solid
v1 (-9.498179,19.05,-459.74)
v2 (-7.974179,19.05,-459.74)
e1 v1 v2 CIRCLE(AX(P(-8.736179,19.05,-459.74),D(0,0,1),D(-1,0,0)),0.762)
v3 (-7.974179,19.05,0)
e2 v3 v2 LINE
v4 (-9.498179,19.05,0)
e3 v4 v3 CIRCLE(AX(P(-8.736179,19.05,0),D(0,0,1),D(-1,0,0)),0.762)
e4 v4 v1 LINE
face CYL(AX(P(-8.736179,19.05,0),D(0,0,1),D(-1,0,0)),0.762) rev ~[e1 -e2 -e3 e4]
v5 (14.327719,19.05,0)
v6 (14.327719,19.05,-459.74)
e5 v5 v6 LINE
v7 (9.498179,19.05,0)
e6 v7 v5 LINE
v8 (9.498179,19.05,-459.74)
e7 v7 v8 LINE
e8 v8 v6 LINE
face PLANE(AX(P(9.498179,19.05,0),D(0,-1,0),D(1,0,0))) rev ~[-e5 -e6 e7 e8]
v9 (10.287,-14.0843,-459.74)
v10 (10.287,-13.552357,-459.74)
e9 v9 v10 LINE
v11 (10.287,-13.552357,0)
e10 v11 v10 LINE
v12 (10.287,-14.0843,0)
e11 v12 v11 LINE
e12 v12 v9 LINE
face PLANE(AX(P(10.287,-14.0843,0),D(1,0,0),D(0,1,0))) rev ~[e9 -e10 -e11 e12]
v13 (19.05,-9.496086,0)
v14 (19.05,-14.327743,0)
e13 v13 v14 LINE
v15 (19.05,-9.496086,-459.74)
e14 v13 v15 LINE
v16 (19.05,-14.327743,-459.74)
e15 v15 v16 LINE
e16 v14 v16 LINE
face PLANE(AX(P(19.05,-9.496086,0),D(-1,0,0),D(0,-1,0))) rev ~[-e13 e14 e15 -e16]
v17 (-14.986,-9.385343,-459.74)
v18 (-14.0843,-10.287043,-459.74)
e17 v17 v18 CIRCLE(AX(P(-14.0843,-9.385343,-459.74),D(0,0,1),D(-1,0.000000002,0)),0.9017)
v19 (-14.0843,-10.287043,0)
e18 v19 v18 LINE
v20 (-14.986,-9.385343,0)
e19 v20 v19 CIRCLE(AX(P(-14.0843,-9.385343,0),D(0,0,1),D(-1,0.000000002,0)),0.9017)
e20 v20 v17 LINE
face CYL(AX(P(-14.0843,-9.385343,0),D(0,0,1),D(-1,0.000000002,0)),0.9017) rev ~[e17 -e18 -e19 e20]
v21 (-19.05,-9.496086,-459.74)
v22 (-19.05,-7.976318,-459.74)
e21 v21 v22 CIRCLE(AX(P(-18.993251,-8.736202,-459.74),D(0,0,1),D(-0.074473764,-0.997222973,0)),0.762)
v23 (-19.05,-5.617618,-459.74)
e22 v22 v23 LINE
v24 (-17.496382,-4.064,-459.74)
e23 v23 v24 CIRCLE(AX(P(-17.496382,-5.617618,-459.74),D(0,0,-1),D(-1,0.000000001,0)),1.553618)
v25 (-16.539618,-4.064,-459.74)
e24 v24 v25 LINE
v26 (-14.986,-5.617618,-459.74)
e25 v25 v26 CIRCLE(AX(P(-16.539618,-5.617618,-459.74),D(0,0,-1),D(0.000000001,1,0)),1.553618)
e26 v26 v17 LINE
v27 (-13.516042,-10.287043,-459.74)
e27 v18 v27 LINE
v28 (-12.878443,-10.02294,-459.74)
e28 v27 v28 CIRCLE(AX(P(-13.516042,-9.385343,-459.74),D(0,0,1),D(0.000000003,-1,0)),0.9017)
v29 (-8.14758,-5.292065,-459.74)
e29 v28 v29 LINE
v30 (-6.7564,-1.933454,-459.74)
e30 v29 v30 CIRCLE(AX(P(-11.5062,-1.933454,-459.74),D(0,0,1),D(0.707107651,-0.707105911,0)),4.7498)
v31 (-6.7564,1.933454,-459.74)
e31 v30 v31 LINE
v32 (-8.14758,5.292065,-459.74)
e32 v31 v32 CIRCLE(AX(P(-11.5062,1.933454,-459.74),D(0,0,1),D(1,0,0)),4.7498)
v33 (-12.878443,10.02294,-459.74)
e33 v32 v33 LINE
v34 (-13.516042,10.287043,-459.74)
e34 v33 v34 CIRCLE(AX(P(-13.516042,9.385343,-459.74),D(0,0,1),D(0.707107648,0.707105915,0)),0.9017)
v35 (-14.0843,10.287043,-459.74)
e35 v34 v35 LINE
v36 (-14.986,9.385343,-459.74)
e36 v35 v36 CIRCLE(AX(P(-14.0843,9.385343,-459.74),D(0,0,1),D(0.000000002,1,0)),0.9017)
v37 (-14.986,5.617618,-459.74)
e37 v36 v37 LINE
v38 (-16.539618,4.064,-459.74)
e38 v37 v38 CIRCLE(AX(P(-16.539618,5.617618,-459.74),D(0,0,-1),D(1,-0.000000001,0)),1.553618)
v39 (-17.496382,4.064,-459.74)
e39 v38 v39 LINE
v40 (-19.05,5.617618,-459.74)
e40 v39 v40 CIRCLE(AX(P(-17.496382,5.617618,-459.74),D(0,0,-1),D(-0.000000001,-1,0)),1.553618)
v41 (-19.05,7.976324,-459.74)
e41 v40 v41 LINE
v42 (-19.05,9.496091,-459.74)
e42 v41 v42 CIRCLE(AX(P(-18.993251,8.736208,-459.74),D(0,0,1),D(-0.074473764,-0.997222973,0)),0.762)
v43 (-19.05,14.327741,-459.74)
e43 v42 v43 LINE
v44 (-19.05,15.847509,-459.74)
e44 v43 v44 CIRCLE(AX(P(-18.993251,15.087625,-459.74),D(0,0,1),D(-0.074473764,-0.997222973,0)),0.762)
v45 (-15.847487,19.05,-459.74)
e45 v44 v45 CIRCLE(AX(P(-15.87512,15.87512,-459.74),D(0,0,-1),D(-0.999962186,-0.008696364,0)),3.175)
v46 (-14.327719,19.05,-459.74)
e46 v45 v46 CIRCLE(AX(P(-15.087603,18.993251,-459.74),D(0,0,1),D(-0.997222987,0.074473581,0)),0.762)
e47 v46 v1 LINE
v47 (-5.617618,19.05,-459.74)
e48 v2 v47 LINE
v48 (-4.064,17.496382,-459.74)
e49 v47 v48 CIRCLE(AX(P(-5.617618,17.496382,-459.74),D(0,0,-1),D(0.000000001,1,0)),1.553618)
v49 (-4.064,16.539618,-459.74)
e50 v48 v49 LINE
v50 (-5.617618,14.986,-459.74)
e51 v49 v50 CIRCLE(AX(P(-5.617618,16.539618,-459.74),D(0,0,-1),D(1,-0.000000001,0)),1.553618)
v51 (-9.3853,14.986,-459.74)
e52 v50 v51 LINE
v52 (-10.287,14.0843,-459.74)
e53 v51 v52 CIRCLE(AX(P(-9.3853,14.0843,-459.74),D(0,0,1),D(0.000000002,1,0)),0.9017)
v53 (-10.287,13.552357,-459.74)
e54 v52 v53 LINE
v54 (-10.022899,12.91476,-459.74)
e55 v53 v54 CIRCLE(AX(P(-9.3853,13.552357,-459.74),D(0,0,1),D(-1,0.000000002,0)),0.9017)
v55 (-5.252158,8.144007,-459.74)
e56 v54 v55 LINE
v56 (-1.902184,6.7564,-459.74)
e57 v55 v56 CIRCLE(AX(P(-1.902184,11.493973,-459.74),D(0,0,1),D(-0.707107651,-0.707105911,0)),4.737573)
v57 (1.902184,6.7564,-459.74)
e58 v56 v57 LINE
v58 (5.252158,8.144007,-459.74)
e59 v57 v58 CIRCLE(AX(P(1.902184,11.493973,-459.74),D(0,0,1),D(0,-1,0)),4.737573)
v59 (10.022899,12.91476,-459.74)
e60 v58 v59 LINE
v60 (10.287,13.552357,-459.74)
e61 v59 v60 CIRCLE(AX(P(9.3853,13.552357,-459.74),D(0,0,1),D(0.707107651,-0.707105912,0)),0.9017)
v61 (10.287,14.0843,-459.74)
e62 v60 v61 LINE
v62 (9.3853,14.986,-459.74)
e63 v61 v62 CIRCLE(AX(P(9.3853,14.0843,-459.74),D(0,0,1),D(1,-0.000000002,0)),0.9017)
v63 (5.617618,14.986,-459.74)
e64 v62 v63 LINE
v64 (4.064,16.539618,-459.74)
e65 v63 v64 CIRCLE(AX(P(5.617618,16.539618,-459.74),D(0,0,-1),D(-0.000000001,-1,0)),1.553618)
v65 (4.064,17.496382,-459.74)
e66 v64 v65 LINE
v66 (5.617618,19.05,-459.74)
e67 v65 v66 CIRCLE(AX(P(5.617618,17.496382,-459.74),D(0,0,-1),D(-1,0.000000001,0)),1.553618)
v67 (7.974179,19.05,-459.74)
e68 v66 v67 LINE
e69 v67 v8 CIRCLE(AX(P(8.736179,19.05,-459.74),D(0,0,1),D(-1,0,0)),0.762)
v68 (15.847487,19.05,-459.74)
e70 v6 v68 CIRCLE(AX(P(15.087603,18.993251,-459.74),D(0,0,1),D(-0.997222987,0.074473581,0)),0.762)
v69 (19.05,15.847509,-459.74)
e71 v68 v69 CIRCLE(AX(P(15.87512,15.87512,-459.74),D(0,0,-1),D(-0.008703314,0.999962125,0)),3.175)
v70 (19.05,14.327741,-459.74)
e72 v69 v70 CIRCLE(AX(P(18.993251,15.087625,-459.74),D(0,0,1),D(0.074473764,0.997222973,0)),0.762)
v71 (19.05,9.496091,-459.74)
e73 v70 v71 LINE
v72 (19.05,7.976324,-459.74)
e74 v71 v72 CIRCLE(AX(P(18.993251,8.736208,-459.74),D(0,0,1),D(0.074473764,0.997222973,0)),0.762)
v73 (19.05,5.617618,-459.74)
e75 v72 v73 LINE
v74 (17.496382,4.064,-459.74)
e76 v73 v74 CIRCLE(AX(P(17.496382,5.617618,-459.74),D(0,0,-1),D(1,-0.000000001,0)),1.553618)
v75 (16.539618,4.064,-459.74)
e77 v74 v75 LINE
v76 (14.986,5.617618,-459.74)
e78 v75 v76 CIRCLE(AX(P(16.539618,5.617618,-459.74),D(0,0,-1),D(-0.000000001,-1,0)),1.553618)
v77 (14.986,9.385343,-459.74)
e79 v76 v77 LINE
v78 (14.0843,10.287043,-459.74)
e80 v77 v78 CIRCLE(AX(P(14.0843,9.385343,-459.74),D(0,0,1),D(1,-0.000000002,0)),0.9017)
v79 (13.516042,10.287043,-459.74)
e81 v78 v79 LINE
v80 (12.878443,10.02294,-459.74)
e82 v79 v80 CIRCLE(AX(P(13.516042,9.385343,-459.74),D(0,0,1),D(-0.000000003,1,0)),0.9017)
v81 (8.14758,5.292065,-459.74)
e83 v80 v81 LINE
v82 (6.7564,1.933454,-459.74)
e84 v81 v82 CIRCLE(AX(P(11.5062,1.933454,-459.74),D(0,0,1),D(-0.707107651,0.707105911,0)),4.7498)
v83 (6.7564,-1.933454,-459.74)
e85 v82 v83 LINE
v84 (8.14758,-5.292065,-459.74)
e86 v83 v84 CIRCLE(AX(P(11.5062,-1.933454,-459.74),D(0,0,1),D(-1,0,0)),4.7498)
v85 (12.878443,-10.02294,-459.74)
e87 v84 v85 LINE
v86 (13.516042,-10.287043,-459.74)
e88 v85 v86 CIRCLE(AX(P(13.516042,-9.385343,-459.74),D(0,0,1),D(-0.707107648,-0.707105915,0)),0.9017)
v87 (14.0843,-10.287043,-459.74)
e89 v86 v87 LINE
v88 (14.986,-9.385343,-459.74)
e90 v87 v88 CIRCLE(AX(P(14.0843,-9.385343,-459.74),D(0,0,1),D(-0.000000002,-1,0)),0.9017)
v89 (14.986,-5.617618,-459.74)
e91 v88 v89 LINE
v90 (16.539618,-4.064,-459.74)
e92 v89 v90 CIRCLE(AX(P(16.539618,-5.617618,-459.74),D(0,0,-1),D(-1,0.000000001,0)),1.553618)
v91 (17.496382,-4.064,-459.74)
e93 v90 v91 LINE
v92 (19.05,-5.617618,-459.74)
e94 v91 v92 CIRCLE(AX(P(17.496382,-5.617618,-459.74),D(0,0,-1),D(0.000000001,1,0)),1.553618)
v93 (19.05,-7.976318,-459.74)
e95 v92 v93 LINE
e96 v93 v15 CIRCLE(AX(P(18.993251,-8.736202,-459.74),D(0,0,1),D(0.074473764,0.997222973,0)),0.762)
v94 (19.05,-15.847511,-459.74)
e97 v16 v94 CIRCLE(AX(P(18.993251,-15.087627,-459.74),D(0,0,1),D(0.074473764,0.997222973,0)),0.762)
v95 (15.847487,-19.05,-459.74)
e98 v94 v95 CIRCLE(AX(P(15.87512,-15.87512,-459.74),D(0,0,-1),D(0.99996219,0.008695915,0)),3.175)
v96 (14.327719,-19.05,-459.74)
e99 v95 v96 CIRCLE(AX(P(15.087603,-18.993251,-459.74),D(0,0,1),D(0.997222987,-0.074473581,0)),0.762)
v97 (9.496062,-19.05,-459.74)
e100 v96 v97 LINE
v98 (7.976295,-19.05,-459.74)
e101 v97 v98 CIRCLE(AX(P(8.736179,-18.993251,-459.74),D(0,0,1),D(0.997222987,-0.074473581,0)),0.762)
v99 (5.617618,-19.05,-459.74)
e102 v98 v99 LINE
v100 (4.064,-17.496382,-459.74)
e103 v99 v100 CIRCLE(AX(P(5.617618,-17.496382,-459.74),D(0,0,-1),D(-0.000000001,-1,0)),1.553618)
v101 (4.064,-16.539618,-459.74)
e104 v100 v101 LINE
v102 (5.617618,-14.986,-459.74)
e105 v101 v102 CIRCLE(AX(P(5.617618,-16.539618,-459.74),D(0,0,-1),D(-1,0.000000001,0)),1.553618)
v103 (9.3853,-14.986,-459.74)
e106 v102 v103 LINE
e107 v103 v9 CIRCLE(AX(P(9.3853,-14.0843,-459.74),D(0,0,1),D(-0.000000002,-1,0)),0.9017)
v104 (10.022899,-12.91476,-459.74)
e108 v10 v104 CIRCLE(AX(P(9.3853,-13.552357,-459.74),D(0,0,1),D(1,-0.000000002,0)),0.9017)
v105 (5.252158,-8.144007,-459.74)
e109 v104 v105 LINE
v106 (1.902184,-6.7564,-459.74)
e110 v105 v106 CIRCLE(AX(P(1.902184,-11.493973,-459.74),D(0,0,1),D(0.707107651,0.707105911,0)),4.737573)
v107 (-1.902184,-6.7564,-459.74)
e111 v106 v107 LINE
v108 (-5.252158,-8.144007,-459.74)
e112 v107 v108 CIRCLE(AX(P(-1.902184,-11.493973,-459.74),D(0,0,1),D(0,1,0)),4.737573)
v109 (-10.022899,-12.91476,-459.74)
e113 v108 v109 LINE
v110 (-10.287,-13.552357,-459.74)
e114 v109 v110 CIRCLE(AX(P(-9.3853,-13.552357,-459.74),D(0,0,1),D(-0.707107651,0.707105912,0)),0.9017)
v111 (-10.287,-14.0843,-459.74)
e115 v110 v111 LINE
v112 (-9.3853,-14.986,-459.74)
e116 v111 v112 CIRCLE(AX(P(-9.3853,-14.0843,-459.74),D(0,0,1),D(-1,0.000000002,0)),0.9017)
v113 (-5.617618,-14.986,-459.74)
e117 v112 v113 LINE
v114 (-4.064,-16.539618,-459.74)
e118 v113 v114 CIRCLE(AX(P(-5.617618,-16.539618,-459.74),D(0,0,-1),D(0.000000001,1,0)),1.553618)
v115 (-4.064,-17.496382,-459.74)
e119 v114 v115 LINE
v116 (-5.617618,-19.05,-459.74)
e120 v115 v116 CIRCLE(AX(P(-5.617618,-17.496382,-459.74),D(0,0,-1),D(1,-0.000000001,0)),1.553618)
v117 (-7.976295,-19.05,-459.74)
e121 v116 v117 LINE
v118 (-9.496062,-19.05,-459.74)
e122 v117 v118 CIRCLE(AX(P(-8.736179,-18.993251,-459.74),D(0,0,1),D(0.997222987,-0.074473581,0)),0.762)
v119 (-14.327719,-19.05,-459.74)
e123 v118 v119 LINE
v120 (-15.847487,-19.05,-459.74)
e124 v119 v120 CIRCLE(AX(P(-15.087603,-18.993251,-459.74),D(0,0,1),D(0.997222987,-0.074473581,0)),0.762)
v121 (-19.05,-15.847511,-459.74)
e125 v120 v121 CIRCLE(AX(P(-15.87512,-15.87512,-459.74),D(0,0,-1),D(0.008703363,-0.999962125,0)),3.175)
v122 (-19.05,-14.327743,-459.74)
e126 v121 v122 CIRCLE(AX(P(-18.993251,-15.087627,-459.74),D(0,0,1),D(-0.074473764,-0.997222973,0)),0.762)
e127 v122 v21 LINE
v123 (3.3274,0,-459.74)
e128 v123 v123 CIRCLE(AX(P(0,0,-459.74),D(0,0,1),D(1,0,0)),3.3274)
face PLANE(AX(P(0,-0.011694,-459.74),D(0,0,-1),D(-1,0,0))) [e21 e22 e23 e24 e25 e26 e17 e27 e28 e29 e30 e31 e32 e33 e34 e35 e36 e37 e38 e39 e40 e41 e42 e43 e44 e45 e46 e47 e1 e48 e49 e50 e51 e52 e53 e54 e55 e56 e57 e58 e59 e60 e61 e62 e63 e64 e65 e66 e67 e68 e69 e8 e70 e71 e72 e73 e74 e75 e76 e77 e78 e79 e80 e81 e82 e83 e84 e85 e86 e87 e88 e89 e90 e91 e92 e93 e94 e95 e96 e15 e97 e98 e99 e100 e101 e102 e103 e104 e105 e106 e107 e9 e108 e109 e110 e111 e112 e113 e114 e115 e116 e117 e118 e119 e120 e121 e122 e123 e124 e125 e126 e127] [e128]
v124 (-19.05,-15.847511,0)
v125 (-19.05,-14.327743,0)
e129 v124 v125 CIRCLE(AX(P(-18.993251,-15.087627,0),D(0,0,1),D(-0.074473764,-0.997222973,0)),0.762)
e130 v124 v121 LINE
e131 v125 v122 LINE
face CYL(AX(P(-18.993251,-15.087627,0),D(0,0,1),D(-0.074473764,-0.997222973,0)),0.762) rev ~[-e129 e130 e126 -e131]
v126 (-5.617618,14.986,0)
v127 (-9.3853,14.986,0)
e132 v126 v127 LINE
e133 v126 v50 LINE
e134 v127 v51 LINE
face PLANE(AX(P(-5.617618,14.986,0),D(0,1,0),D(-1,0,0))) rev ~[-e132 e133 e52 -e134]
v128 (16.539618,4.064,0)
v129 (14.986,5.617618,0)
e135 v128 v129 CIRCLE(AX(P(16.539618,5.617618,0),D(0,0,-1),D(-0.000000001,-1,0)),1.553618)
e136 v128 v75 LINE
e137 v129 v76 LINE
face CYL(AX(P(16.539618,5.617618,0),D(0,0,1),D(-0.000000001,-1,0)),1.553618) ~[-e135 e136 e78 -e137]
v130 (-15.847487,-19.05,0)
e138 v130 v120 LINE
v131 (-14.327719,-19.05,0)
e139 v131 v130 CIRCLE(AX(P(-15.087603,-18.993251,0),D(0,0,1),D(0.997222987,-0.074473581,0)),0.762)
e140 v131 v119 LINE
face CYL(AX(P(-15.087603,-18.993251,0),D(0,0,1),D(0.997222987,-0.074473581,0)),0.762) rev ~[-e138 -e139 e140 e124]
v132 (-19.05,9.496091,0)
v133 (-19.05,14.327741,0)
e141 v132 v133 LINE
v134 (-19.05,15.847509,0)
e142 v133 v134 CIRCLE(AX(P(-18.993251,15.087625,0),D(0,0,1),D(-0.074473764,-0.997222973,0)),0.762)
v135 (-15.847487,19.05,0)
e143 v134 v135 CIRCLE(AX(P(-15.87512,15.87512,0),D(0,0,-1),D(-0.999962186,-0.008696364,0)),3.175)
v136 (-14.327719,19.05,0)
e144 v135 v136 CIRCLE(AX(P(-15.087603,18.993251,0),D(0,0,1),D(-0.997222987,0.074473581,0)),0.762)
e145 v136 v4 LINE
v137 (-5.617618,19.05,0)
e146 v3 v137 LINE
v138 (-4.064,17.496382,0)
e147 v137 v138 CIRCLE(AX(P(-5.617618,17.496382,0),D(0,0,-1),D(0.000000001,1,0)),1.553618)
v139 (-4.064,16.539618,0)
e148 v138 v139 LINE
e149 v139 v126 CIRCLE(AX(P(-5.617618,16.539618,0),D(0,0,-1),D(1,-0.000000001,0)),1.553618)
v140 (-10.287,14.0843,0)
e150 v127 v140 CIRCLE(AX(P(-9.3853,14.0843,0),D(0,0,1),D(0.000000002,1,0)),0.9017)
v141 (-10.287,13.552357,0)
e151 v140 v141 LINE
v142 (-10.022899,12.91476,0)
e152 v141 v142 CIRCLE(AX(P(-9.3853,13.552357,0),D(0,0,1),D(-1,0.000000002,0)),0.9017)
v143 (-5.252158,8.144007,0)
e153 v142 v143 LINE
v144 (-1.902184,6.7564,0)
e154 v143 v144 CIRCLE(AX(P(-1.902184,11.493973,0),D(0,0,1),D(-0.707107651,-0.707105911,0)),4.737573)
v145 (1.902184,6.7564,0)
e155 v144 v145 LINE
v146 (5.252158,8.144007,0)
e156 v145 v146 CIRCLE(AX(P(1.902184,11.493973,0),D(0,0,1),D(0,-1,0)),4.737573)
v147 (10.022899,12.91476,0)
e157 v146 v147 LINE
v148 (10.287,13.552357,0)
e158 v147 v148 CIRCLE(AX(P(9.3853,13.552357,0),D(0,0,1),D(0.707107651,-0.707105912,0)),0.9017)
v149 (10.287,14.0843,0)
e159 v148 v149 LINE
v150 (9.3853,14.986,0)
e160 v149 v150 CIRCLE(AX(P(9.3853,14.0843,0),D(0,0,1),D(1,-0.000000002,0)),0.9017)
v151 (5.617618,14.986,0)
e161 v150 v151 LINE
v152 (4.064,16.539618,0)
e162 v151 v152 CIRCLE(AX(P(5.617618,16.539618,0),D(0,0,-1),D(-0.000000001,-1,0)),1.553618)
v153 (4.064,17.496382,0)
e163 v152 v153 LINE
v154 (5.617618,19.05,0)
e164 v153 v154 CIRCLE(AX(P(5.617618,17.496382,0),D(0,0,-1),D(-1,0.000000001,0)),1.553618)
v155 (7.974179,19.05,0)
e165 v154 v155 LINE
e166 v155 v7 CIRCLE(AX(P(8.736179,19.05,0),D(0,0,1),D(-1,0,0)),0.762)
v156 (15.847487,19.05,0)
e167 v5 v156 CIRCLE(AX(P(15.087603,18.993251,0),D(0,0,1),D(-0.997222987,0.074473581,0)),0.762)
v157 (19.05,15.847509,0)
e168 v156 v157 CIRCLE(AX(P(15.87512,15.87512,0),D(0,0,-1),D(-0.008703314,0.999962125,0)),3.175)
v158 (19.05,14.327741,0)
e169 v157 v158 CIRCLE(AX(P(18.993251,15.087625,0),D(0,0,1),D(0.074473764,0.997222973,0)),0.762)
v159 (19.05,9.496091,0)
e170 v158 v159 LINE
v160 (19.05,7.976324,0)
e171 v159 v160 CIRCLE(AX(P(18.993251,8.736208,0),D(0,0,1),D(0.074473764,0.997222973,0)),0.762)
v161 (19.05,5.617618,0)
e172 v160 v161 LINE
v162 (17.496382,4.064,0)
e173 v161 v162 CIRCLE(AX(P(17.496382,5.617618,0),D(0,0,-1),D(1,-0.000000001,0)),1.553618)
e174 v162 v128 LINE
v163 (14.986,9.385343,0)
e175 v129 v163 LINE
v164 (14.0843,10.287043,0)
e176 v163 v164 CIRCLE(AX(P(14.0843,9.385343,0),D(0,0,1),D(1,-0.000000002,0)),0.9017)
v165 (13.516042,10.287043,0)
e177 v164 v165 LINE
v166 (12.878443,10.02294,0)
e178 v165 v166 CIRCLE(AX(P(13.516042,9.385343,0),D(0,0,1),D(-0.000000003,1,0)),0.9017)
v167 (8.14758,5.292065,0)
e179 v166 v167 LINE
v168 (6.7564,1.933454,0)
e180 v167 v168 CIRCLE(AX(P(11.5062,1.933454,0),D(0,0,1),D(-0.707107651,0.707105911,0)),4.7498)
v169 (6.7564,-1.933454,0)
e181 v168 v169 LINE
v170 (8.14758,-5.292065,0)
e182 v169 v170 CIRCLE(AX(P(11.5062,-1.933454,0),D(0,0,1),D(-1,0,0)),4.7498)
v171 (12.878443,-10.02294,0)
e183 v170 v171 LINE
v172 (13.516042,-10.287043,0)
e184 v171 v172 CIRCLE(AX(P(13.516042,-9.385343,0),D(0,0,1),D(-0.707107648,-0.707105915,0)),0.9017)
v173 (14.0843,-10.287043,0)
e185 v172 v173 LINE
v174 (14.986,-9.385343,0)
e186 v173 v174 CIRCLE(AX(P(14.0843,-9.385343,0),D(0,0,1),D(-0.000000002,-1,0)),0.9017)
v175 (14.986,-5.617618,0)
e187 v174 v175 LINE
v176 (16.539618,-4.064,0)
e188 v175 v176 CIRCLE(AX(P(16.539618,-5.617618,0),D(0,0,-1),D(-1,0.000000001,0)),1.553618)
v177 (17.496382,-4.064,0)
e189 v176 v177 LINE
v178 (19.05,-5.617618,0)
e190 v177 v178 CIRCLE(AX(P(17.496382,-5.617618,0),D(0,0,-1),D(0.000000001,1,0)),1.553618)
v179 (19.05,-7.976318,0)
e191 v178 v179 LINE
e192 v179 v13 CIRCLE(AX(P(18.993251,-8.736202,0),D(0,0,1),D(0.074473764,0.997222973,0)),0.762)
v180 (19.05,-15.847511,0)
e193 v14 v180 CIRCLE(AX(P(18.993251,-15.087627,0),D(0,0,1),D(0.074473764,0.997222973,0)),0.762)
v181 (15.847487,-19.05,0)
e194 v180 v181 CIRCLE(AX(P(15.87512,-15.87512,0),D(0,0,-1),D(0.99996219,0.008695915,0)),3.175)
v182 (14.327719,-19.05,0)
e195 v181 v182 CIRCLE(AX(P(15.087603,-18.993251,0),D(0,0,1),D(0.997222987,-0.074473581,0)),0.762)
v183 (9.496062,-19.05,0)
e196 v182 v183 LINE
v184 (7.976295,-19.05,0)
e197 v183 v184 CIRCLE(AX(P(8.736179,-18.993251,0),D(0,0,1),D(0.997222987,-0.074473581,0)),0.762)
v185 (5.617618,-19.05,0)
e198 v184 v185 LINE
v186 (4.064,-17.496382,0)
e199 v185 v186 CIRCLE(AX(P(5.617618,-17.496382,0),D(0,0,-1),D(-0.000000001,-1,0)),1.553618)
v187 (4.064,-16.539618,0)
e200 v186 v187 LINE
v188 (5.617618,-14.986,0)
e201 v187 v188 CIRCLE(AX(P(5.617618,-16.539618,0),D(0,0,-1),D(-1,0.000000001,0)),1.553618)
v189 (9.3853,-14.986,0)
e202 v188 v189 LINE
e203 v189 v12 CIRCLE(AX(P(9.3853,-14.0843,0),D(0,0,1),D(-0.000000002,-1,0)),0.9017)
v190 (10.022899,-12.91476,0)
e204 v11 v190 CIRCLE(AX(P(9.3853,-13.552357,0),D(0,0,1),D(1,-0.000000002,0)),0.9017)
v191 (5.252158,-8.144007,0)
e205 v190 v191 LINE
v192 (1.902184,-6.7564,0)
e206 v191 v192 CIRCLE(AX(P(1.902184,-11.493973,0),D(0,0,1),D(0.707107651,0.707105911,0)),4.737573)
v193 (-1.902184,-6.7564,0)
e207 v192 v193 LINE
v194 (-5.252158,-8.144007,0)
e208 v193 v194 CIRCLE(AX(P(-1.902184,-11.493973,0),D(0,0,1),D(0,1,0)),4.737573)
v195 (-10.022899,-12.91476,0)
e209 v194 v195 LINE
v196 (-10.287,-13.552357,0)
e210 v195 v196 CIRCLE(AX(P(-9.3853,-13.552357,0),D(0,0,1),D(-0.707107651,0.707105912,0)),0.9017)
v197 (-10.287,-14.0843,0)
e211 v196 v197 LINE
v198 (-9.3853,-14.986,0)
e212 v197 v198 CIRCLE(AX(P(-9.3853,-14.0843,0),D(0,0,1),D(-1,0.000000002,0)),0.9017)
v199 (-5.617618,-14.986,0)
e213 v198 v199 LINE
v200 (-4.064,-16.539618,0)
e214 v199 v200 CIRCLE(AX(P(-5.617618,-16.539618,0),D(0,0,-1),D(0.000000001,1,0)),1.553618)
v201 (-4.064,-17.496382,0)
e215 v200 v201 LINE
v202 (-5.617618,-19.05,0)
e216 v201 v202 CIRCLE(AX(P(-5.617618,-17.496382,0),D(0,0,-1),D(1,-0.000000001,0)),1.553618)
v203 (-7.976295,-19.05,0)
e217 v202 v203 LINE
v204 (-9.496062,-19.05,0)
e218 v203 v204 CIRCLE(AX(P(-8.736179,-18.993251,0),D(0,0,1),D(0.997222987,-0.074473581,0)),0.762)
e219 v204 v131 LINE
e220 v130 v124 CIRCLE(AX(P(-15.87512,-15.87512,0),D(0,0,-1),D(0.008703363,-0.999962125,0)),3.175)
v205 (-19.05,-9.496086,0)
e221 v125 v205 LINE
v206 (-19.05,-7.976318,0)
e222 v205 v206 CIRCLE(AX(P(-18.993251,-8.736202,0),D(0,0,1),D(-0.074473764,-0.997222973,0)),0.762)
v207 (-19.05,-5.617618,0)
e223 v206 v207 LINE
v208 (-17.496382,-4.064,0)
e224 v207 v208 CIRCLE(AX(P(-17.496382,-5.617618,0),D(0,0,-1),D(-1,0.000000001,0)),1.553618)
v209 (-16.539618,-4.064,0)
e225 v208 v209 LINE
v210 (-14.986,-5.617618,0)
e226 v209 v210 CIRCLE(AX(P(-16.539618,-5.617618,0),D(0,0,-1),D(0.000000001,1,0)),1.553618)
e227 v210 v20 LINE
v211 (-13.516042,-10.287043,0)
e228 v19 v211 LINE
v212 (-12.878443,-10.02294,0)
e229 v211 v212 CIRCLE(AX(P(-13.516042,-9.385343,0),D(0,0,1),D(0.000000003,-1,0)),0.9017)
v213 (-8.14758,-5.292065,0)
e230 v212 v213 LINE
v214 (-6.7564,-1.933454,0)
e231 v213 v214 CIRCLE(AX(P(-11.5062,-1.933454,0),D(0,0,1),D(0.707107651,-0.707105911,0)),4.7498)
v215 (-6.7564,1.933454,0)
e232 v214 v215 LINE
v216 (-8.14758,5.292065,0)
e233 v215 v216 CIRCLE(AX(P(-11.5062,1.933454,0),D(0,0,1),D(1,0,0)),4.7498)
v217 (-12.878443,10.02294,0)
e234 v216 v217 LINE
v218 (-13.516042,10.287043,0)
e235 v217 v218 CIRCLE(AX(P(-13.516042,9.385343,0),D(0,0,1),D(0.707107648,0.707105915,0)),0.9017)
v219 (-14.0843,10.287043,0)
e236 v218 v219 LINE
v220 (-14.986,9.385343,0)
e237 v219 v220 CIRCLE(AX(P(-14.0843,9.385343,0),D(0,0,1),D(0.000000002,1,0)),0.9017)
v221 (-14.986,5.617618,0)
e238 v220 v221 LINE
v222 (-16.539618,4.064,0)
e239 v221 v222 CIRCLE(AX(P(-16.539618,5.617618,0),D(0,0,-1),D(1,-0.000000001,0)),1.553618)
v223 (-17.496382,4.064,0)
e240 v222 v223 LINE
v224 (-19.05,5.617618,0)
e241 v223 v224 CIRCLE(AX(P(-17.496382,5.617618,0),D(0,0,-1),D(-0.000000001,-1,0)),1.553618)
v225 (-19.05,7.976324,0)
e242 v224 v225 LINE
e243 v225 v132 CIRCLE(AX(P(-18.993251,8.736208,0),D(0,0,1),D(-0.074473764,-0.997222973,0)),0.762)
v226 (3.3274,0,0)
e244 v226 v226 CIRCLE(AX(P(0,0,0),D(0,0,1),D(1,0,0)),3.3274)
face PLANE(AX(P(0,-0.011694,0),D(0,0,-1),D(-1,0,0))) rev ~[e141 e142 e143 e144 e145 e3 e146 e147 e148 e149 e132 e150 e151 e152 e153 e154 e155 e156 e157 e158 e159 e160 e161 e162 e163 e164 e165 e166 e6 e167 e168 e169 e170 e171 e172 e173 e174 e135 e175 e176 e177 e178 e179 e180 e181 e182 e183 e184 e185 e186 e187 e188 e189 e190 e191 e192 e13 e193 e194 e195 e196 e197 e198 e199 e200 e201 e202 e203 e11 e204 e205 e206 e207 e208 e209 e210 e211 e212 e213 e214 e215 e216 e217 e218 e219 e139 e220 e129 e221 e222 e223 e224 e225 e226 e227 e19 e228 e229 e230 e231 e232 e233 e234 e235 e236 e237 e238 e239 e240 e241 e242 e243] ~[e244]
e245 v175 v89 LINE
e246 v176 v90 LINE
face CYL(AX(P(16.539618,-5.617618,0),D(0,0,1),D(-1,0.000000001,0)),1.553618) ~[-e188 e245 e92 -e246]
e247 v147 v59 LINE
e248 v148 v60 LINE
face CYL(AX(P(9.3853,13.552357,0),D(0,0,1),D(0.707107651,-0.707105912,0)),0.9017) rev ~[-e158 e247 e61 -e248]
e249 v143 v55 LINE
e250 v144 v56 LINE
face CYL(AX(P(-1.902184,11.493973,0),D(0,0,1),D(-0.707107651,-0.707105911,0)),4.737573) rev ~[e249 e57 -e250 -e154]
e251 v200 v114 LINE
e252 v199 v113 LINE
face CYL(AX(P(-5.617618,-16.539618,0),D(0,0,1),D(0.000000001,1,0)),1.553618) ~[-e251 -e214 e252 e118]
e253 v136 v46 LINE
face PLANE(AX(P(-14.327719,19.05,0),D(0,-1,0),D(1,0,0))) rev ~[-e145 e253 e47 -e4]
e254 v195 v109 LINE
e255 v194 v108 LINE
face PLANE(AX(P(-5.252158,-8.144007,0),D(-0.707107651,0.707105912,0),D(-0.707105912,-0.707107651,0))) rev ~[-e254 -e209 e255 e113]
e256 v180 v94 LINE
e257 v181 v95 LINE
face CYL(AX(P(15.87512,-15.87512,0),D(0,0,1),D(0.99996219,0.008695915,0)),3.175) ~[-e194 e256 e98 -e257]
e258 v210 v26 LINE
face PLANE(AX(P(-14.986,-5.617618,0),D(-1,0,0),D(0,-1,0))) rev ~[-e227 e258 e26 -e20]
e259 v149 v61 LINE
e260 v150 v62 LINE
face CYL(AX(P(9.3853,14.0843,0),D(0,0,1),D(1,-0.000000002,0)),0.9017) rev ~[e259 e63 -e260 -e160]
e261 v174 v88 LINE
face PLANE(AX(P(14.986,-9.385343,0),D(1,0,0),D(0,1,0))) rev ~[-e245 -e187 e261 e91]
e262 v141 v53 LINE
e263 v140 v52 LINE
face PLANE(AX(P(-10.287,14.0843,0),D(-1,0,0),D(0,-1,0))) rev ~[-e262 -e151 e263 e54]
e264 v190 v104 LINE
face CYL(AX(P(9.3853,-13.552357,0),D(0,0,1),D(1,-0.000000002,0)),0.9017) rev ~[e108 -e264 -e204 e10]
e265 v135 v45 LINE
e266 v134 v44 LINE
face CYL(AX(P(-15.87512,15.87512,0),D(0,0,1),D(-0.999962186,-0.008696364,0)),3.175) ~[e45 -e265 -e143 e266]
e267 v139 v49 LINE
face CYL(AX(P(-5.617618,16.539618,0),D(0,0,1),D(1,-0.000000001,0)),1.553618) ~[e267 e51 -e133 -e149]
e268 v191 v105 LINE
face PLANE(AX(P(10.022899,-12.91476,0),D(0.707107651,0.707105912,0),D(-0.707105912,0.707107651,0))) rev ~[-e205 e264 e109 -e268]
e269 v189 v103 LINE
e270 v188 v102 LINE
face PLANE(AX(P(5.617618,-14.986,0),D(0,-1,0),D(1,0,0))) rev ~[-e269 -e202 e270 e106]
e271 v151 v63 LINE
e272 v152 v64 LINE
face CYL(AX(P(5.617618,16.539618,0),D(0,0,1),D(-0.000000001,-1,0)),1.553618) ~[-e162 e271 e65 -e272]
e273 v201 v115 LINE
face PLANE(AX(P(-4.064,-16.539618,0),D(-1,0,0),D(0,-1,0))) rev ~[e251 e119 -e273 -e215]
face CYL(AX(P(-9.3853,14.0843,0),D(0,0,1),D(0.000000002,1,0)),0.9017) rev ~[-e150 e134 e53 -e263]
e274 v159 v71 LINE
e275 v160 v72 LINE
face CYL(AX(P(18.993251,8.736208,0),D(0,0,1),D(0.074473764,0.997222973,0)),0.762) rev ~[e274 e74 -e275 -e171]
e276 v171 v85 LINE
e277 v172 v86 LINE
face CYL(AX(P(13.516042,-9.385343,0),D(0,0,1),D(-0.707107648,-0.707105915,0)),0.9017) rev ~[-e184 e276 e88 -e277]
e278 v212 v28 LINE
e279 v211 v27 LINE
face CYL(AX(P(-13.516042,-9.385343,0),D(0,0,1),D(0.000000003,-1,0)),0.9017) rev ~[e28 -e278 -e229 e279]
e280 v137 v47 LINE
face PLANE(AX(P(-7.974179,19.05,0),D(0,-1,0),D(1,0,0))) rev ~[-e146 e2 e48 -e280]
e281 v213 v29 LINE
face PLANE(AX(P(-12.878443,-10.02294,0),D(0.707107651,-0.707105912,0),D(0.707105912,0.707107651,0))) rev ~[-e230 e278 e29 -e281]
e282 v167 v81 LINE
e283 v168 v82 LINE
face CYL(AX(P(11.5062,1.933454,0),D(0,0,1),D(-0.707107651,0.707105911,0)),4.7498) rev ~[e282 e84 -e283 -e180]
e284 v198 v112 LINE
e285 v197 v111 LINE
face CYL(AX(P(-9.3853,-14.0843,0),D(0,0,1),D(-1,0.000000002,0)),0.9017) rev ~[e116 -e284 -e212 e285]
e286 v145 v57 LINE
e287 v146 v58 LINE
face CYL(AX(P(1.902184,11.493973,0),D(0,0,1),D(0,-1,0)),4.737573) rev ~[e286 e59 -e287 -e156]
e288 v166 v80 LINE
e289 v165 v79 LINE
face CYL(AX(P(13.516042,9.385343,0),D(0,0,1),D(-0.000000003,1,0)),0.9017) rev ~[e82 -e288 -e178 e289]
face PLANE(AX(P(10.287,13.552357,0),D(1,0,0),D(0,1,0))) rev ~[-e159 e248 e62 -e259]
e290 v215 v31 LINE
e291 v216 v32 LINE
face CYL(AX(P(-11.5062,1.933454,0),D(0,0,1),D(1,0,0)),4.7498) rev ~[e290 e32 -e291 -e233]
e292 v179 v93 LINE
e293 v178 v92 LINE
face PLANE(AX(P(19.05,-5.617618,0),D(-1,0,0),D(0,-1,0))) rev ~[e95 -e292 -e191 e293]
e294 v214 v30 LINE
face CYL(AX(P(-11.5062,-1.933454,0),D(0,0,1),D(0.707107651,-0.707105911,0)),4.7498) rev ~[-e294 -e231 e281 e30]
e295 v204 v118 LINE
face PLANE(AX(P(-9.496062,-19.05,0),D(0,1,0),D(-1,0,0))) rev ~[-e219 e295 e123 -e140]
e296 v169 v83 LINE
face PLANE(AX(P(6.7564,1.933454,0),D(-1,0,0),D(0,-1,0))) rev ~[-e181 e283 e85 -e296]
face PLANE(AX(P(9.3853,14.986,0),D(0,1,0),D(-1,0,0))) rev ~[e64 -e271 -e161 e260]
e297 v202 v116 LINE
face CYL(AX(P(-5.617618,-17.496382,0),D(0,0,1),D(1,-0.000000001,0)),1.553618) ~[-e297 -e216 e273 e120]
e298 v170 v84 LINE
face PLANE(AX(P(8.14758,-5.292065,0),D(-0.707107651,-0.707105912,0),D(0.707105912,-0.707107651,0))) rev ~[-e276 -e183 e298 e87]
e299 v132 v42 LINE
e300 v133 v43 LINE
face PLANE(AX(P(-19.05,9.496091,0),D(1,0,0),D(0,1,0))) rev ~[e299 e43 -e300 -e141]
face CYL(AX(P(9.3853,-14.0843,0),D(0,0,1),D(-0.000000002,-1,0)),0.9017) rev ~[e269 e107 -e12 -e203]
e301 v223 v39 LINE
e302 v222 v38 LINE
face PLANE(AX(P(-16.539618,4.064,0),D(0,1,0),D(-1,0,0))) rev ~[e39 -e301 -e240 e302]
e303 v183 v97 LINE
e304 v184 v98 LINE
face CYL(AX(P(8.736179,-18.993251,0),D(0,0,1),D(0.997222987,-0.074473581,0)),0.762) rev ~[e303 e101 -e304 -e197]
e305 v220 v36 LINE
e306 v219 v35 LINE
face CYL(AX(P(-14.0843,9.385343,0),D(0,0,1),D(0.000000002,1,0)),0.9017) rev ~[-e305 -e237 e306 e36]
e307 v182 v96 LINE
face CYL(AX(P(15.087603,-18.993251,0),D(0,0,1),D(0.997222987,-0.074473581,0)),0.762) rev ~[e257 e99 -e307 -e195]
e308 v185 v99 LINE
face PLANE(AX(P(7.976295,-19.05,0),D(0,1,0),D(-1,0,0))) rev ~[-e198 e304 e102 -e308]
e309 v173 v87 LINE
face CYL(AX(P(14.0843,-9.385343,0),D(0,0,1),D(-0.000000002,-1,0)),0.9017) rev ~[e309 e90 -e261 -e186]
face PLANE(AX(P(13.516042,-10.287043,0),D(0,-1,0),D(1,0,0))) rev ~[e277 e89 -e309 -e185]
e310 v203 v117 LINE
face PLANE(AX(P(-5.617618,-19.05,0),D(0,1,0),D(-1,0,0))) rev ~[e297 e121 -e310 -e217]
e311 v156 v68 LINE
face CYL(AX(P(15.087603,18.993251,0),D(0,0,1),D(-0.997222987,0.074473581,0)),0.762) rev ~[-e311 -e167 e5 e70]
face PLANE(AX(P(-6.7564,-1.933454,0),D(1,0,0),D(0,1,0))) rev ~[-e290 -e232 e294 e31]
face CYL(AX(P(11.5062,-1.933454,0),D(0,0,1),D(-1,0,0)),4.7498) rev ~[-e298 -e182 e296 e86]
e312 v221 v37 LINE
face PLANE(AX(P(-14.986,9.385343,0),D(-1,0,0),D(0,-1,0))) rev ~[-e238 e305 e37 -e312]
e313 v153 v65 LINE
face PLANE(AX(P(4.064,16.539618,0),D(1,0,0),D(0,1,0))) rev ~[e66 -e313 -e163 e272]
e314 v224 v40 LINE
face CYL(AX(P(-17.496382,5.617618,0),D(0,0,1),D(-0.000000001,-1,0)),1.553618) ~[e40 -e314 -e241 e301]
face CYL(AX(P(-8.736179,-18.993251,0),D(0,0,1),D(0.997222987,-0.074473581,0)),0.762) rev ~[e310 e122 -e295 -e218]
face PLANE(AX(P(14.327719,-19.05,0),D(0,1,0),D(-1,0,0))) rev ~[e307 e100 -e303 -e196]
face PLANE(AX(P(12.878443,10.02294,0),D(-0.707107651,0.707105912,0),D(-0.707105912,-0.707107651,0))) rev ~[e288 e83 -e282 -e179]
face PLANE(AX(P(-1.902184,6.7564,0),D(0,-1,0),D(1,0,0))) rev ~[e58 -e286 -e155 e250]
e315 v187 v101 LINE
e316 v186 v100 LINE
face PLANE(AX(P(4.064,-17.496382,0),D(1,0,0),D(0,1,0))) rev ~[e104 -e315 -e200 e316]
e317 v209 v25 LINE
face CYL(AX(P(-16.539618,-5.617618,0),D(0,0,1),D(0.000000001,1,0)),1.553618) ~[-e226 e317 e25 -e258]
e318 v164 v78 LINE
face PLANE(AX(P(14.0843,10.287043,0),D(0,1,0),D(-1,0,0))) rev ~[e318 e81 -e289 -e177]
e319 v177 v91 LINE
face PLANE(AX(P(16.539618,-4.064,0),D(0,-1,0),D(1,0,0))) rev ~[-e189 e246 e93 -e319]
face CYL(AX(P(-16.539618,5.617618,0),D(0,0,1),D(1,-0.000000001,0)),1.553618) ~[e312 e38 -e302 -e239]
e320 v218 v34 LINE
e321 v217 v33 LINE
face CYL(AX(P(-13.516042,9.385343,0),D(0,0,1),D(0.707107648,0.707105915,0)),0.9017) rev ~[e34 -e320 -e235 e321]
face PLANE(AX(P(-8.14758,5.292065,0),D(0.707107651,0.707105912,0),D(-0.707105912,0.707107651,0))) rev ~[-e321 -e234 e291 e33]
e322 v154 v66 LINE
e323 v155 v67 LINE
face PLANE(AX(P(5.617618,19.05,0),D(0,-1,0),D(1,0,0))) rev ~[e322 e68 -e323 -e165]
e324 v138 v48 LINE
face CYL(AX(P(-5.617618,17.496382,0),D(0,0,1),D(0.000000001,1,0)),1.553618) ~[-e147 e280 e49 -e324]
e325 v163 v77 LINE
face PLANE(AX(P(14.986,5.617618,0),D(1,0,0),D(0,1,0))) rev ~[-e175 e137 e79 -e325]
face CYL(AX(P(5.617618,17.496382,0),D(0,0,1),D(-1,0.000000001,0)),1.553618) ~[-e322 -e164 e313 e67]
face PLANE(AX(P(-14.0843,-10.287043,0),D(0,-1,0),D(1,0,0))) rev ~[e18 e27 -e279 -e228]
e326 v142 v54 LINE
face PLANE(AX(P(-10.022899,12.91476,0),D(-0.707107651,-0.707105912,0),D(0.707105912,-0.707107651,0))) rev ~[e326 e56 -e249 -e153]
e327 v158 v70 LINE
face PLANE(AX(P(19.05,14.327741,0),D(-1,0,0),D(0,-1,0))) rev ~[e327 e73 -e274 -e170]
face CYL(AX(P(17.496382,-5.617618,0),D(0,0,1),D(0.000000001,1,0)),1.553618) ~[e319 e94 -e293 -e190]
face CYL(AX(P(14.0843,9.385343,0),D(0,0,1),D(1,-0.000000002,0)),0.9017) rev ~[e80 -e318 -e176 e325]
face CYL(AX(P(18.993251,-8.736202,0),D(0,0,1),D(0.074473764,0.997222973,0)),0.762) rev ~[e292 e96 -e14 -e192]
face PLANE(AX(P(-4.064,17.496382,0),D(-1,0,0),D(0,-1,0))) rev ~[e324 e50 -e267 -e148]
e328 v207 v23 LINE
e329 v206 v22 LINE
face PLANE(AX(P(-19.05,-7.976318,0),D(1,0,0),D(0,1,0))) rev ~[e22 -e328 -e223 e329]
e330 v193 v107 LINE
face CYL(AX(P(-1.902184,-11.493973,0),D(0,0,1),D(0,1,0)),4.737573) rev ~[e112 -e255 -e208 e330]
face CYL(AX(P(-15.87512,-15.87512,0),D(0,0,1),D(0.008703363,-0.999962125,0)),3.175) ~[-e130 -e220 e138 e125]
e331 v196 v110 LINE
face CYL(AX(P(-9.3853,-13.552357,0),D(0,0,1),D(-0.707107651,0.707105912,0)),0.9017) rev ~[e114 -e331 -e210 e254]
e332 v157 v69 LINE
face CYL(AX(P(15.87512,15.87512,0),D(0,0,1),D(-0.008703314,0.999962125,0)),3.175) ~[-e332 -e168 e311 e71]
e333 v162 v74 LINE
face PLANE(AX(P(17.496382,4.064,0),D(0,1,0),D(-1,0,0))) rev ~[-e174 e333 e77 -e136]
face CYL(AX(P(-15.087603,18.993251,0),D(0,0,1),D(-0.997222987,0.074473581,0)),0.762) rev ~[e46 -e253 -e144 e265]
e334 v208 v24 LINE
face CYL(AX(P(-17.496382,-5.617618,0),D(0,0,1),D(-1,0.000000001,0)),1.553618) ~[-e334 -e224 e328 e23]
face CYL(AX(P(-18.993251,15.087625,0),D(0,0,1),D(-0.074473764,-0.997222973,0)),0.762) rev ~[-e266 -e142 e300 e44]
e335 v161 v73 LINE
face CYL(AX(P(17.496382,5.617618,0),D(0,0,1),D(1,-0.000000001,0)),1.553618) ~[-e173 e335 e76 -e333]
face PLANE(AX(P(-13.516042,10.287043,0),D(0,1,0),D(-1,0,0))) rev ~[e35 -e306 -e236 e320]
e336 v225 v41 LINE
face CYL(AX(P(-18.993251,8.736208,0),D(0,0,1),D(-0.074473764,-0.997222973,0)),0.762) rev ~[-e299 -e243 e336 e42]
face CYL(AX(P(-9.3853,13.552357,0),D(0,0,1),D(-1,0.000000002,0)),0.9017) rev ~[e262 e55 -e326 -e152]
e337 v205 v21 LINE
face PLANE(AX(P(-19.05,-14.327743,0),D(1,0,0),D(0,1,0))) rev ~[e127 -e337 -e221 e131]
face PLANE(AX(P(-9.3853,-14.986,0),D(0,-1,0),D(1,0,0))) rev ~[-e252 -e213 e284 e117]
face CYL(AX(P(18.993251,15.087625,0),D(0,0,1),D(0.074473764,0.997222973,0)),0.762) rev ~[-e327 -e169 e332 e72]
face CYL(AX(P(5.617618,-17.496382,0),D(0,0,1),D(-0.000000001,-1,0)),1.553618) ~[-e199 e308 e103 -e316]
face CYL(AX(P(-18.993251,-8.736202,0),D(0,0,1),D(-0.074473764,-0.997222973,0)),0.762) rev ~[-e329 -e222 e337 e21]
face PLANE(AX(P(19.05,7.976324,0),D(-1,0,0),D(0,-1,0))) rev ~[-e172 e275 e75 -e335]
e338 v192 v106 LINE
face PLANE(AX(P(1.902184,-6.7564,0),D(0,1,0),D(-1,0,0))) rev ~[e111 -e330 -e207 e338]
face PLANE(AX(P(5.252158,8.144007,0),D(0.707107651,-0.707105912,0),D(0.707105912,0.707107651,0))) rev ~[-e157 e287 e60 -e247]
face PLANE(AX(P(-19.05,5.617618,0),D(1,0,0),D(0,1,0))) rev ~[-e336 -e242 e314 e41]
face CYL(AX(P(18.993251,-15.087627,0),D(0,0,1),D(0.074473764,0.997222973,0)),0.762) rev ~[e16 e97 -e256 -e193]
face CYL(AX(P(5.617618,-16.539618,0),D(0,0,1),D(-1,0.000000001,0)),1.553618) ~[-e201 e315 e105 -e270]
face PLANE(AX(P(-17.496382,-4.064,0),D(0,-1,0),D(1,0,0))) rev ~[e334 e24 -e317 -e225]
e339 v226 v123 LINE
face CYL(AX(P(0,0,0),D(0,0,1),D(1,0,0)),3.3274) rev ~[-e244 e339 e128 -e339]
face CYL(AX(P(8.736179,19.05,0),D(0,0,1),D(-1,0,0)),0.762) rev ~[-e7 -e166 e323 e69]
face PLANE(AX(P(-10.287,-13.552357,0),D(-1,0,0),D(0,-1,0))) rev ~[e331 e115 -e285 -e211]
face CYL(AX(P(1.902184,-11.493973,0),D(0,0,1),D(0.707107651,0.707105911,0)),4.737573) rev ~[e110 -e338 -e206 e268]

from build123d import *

# Parameters (mm, degrees)
SKETCH1_R      = 3.3274
EXTRUDE1_DEPTH = 459.74


with BuildPart() as part:
    # Sketch1 → Extrude1 (new body)
    with BuildSketch(Plane.XY):
        with BuildLine():
            Line((-10.022898969, 12.91475973), (-5.252158105, 8.144007132))
            ThreePointArc((-5.252158105, 8.144007132), (-3.715177372, 7.117027388), (-1.902183975, 6.7564))
            Line((-1.902183975, 6.7564), (1.902183975, 6.7564))
            ThreePointArc((1.902183975, 6.7564), (3.715177372, 7.117027388), (5.252158105, 8.144007132))
            Line((5.252158105, 8.144007132), (10.022898969, 12.91475973))
            ThreePointArc((10.022898969, 12.91475973), (10.218362387, 13.207291992), (10.287, 13.552357131))
            Line((10.287, 13.552357131), (10.287, 14.0843))
            ThreePointArc((10.287, 14.0843), (10.022898185, 14.721898185), (9.3853, 14.986))
            Line((9.3853, 14.986), (5.617617549, 14.986))
            ThreePointArc((5.617617549, 14.986), (4.519044045, 15.441044045), (4.064, 16.539617549))
            Line((4.064, 16.539617549), (4.064, 17.496382451))
            ThreePointArc((4.064, 17.496382451), (4.519044045, 18.594955955), (5.617617549, 19.05))
            Line((5.617617549, 19.05), (7.974178704, 19.05))
            ThreePointArc((7.974178704, 19.05), (8.736178704, 18.288), (9.498178704, 19.05))
            Line((9.498178704, 19.05), (14.327719207, 19.05))
            ThreePointArc((14.327719207, 19.05), (15.087603123, 18.231251131), (15.847487039, 19.05))
            ThreePointArc((15.847487039, 19.05), (18.120176289, 18.120192083), (19.05, 15.847509295))
            ThreePointArc((19.05, 15.847509295), (18.231250992, 15.08762539), (19.05, 14.327741484))
            Line((19.05, 14.327741484), (19.05, 9.496091471))
            ThreePointArc((19.05, 9.496091471), (18.231250992, 8.736207565), (19.05, 7.97632366))
            Line((19.05, 7.97632366), (19.05, 5.617617549))
            ThreePointArc((19.05, 5.617617549), (18.594955955, 4.519044045), (17.496382451, 4.064))
            Line((17.496382451, 4.064), (16.539617549, 4.064))
            ThreePointArc((16.539617549, 4.064), (15.441044045, 4.519044045), (14.986, 5.617617549))
            Line((14.986, 5.617617549), (14.986, 9.385342516))
            ThreePointArc((14.986, 9.385342516), (14.721898185, 10.022940701), (14.0843, 10.287042516))
            Line((14.0843, 10.287042516), (13.516042086, 10.287042516))
            ThreePointArc((13.516042086, 10.287042516), (13.170975923, 10.218404478), (12.878443117, 10.022939917))
            Line((12.878443117, 10.022939917), (8.14758008, 5.292065243))
            ThreePointArc((8.14758008, 5.292065243), (7.117955879, 3.751120653), (6.7564, 1.933453584))
            Line((6.7564, 1.933453584), (6.7564, -1.933453584))
            ThreePointArc((6.7564, -1.933453584), (7.117955879, -3.751120653), (8.14758008, -5.292065243))
            Line((8.14758008, -5.292065243), (12.878443117, -10.022939917))
            ThreePointArc((12.878443117, -10.022939917), (13.170975923, -10.218404478), (13.516042086, -10.287042516))
            Line((13.516042086, -10.287042516), (14.0843, -10.287042516))
            ThreePointArc((14.0843, -10.287042516), (14.721898185, -10.022940701), (14.986, -9.385342516))
            Line((14.986, -9.385342516), (14.986, -5.617617549))
            ThreePointArc((14.986, -5.617617549), (15.441044045, -4.519044045), (16.539617549, -4.064))
            Line((16.539617549, -4.064), (17.496382451, -4.064))
            ThreePointArc((17.496382451, -4.064), (18.594955955, -4.519044045), (19.05, -5.617617549))
            Line((19.05, -5.617617549), (19.05, -7.976318491))
            ThreePointArc((19.05, -7.976318491), (18.231250992, -8.736202396), (19.05, -9.496086302))
            Line((19.05, -9.496086302), (19.05, -14.32774291))
            ThreePointArc((19.05, -14.32774291), (18.231250992, -15.087626816), (19.05, -15.847510721))
            ThreePointArc((19.05, -15.847510721), (18.120175716, -18.120192644), (15.847486868, -19.05))
            ThreePointArc((15.847486868, -19.05), (15.087602952, -18.231251131), (14.327719036, -19.05))
            Line((14.327719036, -19.05), (9.496062448, -19.05))
            ThreePointArc((9.496062448, -19.05), (8.736178532, -18.231251131), (7.976294616, -19.05))
            Line((7.976294616, -19.05), (5.617617549, -19.05))
            ThreePointArc((5.617617549, -19.05), (4.519044045, -18.594955955), (4.064, -17.496382451))
            Line((4.064, -17.496382451), (4.064, -16.539617549))
            ThreePointArc((4.064, -16.539617549), (4.519044045, -15.441044045), (5.617617549, -14.986))
            Line((5.617617549, -14.986), (9.3853, -14.986))
            ThreePointArc((9.3853, -14.986), (10.022898185, -14.721898185), (10.287, -14.0843))
            Line((10.287, -14.0843), (10.287, -13.552357131))
            ThreePointArc((10.287, -13.552357131), (10.218362387, -13.207291992), (10.022898969, -12.91475973))
            Line((10.022898969, -12.91475973), (5.252158105, -8.144007132))
            ThreePointArc((5.252158105, -8.144007132), (3.715177372, -7.117027388), (1.902183975, -6.7564))
            Line((1.902183975, -6.7564), (-1.902183975, -6.7564))
            ThreePointArc((-1.902183975, -6.7564), (-3.715177372, -7.117027388), (-5.252158105, -8.144007132))
            Line((-5.252158105, -8.144007132), (-10.022898969, -12.91475973))
            ThreePointArc((-10.022898969, -12.91475973), (-10.218362387, -13.207291992), (-10.287, -13.552357131))
            Line((-10.287, -13.552357131), (-10.287, -14.0843))
            ThreePointArc((-10.287, -14.0843), (-10.022898185, -14.721898185), (-9.3853, -14.986))
            Line((-9.3853, -14.986), (-5.617617549, -14.986))
            ThreePointArc((-5.617617549, -14.986), (-4.519044045, -15.441044045), (-4.064, -16.539617549))
            Line((-4.064, -16.539617549), (-4.064, -17.496382451))
            ThreePointArc((-4.064, -17.496382451), (-4.519044045, -18.594955955), (-5.617617549, -19.05))
            Line((-5.617617549, -19.05), (-7.976294616, -19.05))
            ThreePointArc((-7.976294616, -19.05), (-8.736178532, -18.231251131), (-9.496062448, -19.05))
            Line((-9.496062448, -19.05), (-14.327719036, -19.05))
            ThreePointArc((-14.327719036, -19.05), (-15.087602952, -18.231251131), (-15.847486868, -19.05))
            ThreePointArc((-15.847486868, -19.05), (-18.120175716, -18.120192644), (-19.05, -15.847510721))
            ThreePointArc((-19.05, -15.847510721), (-18.231250992, -15.087626816), (-19.05, -14.32774291))
            Line((-19.05, -14.32774291), (-19.05, -9.496086302))
            ThreePointArc((-19.05, -9.496086302), (-18.231250992, -8.736202396), (-19.05, -7.976318491))
            Line((-19.05, -7.976318491), (-19.05, -5.617617549))
            ThreePointArc((-19.05, -5.617617549), (-18.594955955, -4.519044045), (-17.496382451, -4.064))
            Line((-17.496382451, -4.064), (-16.539617549, -4.064))
            ThreePointArc((-16.539617549, -4.064), (-15.441044045, -4.519044045), (-14.986, -5.617617549))
            Line((-14.986, -5.617617549), (-14.986, -9.385342516))
            ThreePointArc((-14.986, -9.385342516), (-14.721898185, -10.022940701), (-14.0843, -10.287042516))
            Line((-14.0843, -10.287042516), (-13.516042086, -10.287042516))
            ThreePointArc((-13.516042086, -10.287042516), (-13.170975923, -10.218404478), (-12.878443117, -10.022939917))
            Line((-12.878443117, -10.022939917), (-8.14758008, -5.292065243))
            ThreePointArc((-8.14758008, -5.292065243), (-7.117955879, -3.751120653), (-6.7564, -1.933453584))
            Line((-6.7564, -1.933453584), (-6.7564, 1.933453584))
            ThreePointArc((-6.7564, 1.933453584), (-7.117955879, 3.751120653), (-8.14758008, 5.292065243))
            Line((-8.14758008, 5.292065243), (-12.878443117, 10.022939917))
            ThreePointArc((-12.878443117, 10.022939917), (-13.170975923, 10.218404478), (-13.516042086, 10.287042516))
            Line((-13.516042086, 10.287042516), (-14.0843, 10.287042516))
            ThreePointArc((-14.0843, 10.287042516), (-14.721898185, 10.022940701), (-14.986, 9.385342516))
            Line((-14.986, 9.385342516), (-14.986, 5.617617549))
            ThreePointArc((-14.986, 5.617617549), (-15.441044045, 4.519044045), (-16.539617549, 4.064))
            Line((-16.539617549, 4.064), (-17.496382451, 4.064))
            ThreePointArc((-17.496382451, 4.064), (-18.594955955, 4.519044045), (-19.05, 5.617617549))
            Line((-19.05, 5.617617549), (-19.05, 7.97632366))
            ThreePointArc((-19.05, 7.97632366), (-18.231250992, 8.736207565), (-19.05, 9.496091471))
            Line((-19.05, 9.496091471), (-19.05, 14.327741484))
            ThreePointArc((-19.05, 14.327741484), (-18.231250992, 15.08762539), (-19.05, 15.847509295))
            ThreePointArc((-19.05, 15.847509295), (-18.120176289, 18.120192083), (-15.847487039, 19.05))
            ThreePointArc((-15.847487039, 19.05), (-15.087603123, 18.231251131), (-14.327719207, 19.05))
            Line((-14.327719207, 19.05), (-9.498178704, 19.05))
            ThreePointArc((-9.498178704, 19.05), (-8.736178704, 18.288), (-7.974178704, 19.05))
            Line((-7.974178704, 19.05), (-5.617617549, 19.05))
            ThreePointArc((-5.617617549, 19.05), (-4.519044045, 18.594955955), (-4.064, 17.496382451))
            Line((-4.064, 17.496382451), (-4.064, 16.539617549))
            ThreePointArc((-4.064, 16.539617549), (-4.519044045, 15.441044045), (-5.617617549, 14.986))
            Line((-5.617617549, 14.986), (-9.3853, 14.986))
            ThreePointArc((-9.3853, 14.986), (-10.022898185, 14.721898185), (-10.287, 14.0843))
            Line((-10.287, 14.0843), (-10.287, 13.552357131))
            ThreePointArc((-10.287, 13.552357131), (-10.218362387, 13.207291992), (-10.022898969, 12.91475973))
        make_face()
        Circle(SKETCH1_R, mode=Mode.SUBTRACT)
    extrude(amount=-EXTRUDE1_DEPTH)


solid = part.part
